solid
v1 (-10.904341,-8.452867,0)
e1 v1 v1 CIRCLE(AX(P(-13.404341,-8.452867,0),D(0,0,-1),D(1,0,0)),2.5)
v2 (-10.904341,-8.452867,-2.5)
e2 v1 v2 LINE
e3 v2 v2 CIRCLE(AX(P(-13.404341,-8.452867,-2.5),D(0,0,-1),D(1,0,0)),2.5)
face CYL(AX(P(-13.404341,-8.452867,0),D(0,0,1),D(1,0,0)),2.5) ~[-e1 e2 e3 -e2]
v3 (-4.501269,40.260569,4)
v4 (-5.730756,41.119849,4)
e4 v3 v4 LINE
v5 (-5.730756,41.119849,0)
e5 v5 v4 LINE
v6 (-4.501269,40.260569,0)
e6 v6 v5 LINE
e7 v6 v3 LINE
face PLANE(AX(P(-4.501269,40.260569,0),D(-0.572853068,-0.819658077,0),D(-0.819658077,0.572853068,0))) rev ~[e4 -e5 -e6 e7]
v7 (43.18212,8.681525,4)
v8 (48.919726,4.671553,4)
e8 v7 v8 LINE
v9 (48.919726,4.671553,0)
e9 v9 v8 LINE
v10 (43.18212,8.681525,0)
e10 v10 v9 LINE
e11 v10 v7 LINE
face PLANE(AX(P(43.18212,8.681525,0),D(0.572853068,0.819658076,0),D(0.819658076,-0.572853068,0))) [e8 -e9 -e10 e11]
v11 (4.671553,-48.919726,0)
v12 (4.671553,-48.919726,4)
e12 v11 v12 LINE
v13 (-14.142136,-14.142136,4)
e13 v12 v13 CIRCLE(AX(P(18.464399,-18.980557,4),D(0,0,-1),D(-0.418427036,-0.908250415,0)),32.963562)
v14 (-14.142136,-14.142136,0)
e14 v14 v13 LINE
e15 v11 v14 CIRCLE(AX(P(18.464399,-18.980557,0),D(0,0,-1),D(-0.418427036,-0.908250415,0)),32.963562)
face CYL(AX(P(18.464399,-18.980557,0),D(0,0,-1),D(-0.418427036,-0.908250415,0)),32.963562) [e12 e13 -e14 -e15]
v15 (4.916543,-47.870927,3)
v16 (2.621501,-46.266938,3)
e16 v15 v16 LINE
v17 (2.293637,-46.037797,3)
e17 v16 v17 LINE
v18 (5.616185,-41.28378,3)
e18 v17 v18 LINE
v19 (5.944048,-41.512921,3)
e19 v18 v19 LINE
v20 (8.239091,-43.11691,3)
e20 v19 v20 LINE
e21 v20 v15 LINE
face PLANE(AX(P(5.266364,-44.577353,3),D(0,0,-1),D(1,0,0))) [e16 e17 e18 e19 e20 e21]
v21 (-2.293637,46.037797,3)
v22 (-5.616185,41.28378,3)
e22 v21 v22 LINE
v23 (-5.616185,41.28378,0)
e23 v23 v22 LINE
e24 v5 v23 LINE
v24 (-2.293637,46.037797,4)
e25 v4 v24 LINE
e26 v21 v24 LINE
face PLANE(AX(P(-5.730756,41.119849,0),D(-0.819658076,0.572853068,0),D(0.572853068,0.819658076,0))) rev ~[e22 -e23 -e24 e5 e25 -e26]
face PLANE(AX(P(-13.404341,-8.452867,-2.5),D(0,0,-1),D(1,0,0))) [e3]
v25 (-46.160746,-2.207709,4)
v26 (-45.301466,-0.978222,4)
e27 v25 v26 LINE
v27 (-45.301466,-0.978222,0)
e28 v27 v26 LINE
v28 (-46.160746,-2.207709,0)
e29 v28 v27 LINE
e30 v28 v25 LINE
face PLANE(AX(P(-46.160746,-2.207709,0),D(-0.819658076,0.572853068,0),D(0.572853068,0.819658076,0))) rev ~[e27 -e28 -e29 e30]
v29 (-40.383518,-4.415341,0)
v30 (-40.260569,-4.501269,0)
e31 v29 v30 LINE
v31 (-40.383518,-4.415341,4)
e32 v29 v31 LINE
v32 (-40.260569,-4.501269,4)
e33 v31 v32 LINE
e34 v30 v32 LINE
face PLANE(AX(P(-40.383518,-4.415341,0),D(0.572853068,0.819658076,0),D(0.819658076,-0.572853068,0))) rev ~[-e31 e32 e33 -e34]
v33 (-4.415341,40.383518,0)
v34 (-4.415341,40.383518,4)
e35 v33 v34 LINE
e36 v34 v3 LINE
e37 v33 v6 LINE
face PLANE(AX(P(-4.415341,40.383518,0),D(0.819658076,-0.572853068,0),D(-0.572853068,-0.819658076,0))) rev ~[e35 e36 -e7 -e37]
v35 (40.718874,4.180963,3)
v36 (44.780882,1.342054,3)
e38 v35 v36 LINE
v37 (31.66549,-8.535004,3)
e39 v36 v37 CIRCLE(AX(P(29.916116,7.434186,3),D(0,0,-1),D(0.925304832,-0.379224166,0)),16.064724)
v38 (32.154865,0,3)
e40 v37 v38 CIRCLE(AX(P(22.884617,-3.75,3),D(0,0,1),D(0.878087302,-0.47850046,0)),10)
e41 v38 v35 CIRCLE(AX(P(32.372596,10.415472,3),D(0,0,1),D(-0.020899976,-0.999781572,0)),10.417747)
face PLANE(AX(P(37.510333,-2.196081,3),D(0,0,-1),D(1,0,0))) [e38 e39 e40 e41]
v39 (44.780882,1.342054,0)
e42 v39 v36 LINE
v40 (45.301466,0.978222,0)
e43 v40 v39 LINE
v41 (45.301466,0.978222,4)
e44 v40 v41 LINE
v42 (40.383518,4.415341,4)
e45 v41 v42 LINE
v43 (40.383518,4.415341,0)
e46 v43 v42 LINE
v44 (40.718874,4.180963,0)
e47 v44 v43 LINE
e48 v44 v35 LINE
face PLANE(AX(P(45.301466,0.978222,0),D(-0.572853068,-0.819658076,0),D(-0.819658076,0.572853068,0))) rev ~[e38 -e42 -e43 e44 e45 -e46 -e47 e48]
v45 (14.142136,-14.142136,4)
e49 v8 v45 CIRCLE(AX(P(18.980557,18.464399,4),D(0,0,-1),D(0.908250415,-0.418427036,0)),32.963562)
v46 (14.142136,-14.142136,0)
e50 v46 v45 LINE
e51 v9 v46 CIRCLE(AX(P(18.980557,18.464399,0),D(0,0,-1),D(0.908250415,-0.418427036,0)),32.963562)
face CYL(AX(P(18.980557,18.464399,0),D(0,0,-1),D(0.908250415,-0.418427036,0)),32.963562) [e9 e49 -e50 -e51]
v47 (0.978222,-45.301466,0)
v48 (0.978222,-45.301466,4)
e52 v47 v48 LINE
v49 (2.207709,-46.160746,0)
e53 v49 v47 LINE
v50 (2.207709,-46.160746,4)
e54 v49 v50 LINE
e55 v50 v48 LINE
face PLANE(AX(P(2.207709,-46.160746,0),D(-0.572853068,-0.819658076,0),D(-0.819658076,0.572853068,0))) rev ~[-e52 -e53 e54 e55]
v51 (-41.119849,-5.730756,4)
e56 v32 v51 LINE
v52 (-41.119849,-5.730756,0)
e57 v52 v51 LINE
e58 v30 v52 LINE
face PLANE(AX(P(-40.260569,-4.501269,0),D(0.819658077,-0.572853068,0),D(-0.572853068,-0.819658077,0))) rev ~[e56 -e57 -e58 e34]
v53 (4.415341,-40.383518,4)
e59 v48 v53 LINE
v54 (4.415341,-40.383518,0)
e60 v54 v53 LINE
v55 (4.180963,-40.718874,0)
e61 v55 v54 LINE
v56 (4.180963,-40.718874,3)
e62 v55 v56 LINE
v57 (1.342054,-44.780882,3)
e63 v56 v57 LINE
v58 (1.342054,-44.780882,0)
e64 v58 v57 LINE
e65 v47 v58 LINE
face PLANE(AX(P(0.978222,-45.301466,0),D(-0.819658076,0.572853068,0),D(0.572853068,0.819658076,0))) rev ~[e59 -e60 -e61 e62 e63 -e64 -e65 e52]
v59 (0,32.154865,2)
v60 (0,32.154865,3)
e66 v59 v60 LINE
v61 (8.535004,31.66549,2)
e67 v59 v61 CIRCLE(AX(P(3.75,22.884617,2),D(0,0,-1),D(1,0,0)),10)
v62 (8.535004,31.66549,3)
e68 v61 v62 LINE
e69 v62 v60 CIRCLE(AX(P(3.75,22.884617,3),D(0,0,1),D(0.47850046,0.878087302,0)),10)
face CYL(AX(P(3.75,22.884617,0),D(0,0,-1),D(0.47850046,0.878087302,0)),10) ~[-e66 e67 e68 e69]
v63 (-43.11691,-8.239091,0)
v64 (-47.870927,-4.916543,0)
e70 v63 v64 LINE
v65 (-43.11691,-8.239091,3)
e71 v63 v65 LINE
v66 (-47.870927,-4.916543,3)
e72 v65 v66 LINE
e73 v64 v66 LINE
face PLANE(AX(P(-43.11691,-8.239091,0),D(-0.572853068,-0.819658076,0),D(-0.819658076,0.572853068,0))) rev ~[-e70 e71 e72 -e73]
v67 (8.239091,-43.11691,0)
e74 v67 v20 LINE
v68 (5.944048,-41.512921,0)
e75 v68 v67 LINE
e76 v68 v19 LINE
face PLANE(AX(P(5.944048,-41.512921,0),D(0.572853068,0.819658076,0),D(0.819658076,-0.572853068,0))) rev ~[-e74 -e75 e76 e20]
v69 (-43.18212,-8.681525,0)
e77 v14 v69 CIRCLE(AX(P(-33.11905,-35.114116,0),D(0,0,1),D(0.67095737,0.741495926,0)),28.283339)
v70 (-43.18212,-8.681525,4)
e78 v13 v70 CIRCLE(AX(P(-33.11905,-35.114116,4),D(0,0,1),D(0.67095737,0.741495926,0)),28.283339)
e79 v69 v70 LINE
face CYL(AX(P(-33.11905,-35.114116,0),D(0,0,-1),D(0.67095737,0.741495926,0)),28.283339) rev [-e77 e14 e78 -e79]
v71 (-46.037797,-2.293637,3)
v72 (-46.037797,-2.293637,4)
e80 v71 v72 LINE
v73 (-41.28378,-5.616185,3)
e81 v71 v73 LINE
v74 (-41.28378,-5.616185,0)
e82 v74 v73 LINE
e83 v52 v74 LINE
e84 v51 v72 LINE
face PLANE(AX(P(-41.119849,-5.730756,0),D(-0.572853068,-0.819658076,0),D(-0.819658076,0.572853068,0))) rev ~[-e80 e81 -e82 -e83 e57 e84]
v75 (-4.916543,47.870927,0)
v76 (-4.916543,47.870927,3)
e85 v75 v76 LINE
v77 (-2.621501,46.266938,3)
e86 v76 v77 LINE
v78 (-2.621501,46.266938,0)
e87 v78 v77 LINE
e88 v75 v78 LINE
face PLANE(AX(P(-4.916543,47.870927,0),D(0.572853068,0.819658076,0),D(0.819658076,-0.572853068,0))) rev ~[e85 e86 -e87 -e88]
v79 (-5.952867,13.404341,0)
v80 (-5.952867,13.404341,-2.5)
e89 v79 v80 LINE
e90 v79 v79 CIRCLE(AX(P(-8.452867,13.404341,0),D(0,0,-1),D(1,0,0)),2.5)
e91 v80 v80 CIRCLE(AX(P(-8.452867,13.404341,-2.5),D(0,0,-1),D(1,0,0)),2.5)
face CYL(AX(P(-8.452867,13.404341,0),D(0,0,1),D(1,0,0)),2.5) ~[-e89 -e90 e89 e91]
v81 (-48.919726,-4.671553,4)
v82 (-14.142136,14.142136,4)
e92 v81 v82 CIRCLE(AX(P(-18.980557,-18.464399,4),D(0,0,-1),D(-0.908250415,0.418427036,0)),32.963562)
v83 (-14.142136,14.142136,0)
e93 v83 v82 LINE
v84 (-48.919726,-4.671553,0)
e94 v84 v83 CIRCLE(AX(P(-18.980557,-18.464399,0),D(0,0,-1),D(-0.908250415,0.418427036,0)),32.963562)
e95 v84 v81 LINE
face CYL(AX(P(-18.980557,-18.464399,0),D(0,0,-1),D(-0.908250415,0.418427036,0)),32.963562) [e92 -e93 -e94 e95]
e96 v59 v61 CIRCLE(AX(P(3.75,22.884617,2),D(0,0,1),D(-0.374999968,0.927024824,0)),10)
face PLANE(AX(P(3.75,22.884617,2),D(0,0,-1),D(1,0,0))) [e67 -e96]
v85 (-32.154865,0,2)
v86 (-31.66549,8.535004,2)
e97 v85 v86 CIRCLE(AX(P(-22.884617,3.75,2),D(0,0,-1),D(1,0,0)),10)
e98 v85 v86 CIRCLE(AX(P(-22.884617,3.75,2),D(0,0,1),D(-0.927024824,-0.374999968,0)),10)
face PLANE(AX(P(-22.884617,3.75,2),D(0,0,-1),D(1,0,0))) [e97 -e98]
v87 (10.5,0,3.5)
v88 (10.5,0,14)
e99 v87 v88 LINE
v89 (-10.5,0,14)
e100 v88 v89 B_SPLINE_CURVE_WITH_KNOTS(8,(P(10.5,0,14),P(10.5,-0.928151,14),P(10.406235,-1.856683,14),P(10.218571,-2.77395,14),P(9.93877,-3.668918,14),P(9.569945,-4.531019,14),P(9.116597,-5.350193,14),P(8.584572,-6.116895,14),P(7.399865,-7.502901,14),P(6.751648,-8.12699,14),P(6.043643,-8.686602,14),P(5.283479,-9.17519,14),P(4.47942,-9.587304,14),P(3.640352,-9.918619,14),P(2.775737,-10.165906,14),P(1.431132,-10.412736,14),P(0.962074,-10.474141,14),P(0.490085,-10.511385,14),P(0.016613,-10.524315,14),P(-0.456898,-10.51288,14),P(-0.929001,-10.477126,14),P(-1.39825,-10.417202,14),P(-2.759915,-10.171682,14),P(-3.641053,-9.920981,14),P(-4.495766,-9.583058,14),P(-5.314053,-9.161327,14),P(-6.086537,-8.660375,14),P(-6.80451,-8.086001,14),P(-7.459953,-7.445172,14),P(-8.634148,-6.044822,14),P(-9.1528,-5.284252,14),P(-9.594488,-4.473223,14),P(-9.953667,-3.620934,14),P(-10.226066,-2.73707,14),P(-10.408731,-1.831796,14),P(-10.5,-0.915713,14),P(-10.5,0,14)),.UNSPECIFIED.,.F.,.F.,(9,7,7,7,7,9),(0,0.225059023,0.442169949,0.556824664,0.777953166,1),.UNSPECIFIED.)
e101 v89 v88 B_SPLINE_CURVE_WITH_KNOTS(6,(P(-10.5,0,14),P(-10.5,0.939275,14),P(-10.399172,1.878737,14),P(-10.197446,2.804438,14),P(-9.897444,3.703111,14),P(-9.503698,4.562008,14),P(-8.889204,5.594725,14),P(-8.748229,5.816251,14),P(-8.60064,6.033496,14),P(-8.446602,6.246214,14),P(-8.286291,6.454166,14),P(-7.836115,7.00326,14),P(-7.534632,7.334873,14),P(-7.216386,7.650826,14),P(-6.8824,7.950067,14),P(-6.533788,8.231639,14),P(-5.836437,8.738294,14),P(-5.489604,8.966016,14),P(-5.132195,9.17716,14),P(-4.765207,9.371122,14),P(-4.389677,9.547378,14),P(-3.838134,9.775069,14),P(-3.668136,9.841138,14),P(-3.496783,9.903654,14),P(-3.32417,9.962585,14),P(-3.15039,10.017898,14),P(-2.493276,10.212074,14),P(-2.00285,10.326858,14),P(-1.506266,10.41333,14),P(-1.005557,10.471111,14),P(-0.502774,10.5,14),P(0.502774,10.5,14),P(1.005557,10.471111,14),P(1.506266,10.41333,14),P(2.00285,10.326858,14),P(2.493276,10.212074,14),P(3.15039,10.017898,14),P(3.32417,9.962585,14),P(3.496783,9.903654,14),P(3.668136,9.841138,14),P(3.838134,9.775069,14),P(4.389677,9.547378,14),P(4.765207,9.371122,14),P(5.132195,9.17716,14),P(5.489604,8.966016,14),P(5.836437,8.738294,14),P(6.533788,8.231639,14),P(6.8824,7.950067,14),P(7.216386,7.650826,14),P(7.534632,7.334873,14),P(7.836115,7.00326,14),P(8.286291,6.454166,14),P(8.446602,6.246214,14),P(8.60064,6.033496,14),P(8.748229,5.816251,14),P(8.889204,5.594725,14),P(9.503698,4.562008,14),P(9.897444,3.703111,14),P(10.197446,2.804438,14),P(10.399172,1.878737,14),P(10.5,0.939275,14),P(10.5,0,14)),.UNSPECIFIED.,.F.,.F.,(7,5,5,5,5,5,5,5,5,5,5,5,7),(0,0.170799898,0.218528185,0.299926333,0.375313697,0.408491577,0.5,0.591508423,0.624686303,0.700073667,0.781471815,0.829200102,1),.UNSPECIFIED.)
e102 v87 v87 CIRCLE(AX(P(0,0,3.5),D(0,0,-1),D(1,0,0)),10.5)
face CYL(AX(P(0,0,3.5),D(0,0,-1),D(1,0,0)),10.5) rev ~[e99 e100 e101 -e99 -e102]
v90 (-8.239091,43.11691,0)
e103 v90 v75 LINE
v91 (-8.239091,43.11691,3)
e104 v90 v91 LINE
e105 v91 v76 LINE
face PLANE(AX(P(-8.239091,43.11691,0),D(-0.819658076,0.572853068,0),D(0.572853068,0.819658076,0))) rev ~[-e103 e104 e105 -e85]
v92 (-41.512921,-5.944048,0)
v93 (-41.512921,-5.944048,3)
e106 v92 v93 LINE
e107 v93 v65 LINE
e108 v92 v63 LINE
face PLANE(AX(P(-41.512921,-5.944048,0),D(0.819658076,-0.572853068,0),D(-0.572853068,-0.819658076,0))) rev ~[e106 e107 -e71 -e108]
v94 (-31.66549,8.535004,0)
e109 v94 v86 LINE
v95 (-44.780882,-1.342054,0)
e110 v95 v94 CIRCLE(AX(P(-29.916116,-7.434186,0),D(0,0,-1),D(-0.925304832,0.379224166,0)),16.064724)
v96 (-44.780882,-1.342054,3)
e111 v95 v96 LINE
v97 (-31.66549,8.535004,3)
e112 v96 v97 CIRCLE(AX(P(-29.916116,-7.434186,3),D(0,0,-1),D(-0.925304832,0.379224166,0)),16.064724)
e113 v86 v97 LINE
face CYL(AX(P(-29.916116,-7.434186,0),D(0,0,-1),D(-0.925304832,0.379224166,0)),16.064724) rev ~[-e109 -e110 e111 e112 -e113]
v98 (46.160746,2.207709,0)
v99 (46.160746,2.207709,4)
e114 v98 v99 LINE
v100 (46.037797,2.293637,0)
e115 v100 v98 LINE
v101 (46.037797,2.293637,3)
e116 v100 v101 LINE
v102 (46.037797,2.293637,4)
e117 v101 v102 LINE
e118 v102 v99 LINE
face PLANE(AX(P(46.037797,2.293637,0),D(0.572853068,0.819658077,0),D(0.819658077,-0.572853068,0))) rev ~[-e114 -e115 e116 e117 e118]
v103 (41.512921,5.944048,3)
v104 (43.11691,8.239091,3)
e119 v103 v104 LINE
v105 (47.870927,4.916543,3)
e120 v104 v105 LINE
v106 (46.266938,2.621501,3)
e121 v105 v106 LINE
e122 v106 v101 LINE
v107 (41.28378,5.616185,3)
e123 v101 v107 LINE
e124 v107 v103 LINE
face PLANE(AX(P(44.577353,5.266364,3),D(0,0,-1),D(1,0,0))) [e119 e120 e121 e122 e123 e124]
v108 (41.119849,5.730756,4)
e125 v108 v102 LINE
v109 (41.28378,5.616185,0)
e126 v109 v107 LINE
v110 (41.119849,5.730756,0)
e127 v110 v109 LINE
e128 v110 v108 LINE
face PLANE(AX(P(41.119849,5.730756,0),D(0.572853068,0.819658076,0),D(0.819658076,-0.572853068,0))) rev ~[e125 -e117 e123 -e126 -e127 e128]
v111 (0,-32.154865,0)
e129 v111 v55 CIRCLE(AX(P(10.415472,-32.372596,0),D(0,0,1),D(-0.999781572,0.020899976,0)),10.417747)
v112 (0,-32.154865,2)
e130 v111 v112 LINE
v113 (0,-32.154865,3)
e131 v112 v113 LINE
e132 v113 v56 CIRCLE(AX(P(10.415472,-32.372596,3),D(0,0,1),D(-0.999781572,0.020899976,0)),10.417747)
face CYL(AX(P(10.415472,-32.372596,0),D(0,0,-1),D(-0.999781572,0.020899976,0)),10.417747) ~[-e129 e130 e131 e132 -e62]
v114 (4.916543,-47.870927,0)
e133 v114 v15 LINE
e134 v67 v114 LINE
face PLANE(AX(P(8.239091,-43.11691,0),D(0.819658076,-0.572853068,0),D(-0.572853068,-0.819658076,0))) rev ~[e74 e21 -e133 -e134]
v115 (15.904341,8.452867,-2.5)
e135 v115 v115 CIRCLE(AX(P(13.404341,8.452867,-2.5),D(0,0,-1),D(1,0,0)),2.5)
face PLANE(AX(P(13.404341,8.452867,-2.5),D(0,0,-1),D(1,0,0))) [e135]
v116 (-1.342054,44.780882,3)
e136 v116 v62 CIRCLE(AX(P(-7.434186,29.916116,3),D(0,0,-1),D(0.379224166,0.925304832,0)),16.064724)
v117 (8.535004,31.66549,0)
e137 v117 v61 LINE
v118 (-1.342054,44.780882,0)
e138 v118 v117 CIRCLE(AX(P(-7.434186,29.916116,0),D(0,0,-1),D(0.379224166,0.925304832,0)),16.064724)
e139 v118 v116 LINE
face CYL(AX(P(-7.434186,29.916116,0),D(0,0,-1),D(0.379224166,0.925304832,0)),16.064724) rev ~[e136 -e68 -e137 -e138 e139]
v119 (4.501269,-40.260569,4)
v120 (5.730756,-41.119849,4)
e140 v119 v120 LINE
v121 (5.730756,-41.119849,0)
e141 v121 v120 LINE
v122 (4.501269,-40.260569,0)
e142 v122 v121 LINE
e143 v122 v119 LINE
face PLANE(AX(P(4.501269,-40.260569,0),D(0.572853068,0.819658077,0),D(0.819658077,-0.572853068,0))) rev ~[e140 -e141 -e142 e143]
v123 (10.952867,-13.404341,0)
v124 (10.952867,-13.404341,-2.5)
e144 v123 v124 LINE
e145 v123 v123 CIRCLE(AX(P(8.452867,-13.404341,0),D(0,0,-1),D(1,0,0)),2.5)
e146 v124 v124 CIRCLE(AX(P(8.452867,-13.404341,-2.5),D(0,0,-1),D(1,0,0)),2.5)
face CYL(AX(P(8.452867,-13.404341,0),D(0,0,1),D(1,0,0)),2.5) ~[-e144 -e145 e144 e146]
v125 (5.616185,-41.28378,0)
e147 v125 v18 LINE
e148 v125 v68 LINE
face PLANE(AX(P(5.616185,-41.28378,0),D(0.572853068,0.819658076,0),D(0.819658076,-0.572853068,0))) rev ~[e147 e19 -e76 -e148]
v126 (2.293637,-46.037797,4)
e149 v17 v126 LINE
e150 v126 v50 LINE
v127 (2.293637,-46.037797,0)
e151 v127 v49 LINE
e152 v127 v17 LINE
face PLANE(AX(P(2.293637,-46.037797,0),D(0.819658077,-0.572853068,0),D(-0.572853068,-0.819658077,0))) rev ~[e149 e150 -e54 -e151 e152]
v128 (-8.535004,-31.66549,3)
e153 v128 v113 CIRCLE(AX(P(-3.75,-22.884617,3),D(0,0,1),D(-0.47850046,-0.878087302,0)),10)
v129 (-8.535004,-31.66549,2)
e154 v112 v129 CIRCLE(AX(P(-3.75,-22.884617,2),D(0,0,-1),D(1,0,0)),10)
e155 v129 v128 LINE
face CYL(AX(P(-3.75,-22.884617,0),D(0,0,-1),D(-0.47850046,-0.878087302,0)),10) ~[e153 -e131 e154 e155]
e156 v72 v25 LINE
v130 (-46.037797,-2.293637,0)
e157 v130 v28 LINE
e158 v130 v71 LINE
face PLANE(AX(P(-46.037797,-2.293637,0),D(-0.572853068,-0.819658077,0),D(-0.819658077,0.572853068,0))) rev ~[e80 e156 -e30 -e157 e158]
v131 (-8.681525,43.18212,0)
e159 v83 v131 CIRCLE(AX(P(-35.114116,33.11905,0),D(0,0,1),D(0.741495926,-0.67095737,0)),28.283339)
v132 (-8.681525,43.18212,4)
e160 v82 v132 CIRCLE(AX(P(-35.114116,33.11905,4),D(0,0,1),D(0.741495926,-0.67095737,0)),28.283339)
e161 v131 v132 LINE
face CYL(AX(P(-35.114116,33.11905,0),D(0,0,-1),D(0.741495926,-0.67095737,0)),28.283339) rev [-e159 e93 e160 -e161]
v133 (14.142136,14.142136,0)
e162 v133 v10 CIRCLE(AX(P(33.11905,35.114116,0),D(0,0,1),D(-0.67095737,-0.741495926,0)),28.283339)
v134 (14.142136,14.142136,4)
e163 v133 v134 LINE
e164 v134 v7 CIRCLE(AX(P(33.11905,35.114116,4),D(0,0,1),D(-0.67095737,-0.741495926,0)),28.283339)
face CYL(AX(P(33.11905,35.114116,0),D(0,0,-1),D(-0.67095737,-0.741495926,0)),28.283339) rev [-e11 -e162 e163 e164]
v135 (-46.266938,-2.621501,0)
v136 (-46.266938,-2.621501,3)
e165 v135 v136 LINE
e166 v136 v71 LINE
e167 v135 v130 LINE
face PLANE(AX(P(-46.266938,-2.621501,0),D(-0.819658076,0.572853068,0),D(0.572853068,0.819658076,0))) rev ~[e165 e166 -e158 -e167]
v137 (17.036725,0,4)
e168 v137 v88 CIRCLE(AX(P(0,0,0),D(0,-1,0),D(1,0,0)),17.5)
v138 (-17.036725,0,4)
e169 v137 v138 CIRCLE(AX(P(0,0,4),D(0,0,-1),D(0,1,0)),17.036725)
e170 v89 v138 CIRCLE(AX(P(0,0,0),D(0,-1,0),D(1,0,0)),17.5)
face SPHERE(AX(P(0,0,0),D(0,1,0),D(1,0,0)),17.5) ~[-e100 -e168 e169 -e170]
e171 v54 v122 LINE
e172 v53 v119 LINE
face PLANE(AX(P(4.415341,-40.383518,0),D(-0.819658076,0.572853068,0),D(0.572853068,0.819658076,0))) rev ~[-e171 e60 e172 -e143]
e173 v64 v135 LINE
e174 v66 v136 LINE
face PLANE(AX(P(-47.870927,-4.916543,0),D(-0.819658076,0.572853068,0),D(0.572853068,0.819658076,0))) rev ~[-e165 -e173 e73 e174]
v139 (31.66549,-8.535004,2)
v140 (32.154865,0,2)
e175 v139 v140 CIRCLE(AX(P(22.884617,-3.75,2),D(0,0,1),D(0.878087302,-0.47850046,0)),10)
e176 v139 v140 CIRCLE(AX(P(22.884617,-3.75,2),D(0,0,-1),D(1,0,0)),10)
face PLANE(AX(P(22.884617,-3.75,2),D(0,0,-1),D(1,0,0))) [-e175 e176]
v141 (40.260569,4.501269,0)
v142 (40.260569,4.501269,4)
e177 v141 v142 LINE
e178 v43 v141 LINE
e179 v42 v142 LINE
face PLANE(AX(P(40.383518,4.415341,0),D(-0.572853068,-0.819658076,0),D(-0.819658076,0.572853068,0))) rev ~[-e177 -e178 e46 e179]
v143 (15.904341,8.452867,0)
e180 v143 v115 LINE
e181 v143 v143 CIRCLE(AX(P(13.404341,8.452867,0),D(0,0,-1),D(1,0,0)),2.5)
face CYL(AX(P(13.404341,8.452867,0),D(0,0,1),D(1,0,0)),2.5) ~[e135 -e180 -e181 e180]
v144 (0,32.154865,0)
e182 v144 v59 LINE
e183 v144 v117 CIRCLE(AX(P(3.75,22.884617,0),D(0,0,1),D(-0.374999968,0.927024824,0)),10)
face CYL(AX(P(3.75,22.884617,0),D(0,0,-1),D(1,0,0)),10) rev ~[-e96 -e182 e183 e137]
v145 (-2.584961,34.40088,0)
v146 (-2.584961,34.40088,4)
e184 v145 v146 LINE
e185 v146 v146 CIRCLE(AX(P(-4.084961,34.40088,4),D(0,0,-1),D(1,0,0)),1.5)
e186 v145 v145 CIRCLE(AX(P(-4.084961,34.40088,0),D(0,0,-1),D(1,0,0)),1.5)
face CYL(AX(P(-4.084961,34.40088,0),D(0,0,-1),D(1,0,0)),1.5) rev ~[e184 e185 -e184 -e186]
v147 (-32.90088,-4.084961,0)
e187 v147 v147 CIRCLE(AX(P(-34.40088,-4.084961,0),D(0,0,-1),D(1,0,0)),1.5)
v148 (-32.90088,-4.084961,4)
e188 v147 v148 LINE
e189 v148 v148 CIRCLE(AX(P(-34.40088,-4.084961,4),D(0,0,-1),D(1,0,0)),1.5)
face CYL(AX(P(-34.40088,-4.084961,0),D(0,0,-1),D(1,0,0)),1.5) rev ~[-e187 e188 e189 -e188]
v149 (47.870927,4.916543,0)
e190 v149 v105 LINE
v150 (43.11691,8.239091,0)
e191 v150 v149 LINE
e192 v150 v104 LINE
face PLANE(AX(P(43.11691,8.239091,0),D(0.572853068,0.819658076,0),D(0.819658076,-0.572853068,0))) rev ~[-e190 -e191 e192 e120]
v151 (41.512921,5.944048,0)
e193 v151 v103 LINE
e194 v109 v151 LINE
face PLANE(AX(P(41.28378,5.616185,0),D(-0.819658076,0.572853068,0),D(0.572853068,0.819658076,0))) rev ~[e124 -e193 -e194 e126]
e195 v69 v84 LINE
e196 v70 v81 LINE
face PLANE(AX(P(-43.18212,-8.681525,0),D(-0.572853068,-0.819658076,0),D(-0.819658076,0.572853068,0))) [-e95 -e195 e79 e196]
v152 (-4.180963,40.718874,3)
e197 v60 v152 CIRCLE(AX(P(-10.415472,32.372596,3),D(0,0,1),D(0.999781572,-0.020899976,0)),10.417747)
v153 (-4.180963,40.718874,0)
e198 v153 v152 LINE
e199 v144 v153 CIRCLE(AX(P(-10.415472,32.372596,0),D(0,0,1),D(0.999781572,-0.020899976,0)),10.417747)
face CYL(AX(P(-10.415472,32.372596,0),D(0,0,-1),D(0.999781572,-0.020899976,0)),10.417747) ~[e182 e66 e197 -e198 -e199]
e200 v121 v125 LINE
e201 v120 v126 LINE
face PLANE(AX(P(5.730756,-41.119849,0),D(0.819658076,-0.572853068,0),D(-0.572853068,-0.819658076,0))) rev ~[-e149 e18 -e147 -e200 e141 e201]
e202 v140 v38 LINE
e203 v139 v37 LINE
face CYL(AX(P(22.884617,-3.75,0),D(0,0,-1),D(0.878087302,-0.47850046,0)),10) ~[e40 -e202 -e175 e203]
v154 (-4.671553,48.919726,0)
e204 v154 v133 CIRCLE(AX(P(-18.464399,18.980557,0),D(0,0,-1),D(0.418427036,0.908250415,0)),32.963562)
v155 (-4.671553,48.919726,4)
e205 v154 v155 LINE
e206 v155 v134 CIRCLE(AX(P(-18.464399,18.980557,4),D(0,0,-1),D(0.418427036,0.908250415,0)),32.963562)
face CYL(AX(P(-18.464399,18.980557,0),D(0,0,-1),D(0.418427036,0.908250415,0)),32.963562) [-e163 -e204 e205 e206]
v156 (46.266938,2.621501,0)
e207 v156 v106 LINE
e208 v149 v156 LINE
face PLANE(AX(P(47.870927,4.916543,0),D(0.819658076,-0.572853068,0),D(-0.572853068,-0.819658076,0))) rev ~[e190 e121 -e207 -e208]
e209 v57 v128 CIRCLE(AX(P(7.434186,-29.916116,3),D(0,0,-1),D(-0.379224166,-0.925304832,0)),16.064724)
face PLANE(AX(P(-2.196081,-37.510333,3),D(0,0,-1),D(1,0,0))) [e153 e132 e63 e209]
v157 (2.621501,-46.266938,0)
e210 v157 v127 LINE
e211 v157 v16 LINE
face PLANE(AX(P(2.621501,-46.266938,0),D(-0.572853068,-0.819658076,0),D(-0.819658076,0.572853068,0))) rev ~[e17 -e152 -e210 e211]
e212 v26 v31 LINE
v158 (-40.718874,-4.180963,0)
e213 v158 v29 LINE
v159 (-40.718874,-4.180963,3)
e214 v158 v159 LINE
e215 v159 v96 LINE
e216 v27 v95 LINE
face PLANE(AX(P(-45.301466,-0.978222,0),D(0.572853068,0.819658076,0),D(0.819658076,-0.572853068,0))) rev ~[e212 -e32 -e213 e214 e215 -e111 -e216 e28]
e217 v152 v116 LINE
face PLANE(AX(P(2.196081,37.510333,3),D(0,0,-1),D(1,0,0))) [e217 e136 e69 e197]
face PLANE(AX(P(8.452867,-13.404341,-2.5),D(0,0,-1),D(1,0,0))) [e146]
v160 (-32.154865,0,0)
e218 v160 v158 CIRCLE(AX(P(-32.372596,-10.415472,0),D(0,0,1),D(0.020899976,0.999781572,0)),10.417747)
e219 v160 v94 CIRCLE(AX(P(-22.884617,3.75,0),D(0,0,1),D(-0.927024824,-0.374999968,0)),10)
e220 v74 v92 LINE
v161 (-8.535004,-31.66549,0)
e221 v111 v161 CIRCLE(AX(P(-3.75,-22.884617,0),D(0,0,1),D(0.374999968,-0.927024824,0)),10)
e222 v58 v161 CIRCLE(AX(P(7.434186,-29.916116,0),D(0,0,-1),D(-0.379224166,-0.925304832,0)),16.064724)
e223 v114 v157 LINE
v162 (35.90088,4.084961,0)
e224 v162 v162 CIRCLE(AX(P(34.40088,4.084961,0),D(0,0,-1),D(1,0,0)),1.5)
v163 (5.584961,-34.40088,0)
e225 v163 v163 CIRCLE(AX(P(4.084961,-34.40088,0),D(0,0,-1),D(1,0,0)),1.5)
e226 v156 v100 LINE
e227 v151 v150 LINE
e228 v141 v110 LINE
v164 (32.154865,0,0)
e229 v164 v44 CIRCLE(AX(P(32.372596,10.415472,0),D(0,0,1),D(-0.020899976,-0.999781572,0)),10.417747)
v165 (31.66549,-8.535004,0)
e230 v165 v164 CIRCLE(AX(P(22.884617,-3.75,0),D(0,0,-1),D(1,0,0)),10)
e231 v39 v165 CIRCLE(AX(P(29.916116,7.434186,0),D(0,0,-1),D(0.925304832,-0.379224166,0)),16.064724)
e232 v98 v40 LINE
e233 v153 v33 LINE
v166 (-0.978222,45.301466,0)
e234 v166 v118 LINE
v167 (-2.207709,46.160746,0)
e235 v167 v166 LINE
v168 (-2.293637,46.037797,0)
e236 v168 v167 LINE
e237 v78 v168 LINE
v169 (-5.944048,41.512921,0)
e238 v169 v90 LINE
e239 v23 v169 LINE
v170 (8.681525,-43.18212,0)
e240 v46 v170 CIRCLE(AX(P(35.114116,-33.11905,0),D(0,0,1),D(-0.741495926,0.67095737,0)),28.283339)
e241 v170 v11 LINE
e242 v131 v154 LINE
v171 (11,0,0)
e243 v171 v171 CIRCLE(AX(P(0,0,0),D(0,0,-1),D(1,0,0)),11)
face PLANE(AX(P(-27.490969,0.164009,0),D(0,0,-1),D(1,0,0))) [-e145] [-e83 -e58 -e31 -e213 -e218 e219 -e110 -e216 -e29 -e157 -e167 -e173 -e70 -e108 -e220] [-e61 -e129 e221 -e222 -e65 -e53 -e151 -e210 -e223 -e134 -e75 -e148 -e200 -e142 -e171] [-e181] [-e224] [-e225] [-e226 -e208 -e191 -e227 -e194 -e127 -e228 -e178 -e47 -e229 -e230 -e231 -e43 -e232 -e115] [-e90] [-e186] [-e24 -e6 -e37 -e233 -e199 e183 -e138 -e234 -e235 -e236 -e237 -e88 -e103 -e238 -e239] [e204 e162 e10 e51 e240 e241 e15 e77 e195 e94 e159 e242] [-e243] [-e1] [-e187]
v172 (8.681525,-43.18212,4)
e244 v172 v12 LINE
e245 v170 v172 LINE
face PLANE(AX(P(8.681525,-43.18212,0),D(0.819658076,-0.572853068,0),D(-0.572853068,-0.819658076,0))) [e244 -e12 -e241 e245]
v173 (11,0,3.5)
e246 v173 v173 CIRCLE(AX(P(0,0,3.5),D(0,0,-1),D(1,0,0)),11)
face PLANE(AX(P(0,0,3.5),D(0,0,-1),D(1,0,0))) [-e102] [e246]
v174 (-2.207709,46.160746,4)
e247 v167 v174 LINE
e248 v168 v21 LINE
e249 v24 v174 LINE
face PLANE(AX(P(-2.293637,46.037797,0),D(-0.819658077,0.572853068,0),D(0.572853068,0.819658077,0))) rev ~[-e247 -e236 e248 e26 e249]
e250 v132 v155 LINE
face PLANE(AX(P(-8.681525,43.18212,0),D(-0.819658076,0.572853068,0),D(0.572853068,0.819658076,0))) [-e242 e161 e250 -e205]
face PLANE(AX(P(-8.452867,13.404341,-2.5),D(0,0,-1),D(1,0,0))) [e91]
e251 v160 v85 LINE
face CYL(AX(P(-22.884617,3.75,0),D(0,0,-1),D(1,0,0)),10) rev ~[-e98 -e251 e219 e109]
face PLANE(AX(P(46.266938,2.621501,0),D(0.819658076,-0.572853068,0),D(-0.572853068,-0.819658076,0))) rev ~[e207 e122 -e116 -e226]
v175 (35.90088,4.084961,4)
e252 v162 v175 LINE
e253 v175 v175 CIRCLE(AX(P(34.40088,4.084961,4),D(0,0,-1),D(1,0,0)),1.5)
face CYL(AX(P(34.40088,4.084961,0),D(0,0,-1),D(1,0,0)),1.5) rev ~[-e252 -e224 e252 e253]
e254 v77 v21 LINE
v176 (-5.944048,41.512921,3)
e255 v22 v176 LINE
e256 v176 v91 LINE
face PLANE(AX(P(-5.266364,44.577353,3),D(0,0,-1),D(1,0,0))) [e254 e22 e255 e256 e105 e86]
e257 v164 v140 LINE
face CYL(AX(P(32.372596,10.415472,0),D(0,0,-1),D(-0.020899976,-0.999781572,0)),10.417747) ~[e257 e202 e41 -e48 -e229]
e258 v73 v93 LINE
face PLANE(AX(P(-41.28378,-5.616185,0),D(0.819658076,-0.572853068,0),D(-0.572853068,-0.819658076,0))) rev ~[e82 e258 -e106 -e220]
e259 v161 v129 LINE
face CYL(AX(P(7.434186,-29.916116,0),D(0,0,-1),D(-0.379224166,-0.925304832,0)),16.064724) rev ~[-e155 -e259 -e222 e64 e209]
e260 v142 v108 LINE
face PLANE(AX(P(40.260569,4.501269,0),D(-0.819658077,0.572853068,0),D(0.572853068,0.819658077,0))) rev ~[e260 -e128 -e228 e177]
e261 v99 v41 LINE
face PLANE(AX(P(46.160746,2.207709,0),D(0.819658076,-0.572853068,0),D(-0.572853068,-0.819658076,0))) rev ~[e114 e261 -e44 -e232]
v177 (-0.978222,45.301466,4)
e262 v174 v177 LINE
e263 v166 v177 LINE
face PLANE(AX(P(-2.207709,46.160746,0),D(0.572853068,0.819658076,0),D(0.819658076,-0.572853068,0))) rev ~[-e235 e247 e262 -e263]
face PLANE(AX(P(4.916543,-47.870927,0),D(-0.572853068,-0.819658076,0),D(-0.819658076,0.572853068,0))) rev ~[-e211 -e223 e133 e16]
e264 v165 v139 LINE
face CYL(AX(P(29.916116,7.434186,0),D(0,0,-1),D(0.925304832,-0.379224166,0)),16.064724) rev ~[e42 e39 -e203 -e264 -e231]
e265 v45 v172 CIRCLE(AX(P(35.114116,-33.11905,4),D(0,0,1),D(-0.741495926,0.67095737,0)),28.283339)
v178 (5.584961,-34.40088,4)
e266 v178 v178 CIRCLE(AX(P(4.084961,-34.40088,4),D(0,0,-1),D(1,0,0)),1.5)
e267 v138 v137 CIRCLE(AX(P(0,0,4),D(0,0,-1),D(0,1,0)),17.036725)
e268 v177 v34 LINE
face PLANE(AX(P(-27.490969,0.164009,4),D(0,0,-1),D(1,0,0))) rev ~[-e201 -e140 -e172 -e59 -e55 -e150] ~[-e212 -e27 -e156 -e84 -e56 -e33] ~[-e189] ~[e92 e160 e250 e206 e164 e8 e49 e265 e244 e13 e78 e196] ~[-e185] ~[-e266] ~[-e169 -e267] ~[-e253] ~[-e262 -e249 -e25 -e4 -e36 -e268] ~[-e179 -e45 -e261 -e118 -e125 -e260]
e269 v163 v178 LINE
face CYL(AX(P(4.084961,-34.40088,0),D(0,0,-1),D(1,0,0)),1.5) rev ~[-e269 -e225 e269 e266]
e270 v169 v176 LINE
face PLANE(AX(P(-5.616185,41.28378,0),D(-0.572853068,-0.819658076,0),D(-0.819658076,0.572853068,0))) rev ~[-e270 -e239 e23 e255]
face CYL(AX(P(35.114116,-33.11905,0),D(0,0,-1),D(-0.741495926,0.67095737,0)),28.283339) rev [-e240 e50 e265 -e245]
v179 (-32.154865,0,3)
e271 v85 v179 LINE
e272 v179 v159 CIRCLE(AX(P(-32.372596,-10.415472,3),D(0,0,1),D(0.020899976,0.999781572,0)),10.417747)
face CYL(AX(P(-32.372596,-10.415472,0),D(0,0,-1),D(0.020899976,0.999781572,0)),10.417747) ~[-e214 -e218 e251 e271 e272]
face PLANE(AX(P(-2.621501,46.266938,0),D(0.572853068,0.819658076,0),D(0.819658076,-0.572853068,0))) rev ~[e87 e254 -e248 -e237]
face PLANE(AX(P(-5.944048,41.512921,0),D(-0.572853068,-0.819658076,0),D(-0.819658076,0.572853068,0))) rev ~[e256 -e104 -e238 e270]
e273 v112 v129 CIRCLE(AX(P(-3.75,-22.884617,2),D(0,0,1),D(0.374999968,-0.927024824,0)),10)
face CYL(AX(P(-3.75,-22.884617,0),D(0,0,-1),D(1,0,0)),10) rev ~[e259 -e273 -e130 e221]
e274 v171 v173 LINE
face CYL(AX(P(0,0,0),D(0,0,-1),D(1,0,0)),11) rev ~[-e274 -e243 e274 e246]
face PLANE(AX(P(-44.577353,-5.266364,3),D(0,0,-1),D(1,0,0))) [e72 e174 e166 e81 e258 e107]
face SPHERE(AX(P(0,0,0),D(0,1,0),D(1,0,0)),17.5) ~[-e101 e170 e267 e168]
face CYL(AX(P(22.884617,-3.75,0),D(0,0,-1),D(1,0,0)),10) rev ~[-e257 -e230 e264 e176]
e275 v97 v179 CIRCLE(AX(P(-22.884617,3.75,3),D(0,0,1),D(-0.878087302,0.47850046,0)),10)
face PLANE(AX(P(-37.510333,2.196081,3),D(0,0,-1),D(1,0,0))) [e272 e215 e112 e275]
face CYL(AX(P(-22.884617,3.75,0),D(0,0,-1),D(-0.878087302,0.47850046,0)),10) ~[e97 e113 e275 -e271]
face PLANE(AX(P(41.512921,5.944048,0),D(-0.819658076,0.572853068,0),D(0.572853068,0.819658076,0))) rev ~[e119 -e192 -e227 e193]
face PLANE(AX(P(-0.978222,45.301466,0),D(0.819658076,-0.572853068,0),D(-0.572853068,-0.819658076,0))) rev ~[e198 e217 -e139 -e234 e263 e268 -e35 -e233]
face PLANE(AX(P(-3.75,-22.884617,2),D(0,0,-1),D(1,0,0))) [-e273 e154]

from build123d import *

# Parameters (mm, degrees)
F1_ANGLE  = 180
F2_R      = 11
F3_DEPTH  = 3.5
F4_R      = 10.5
F5_DEPTH  = 17
F7_DEPTH  = 4
F8_R      = 18.641205443
F8_R_2    = 11
F9_DEPTH  = 4
F10_R     = 10
F11_DEPTH = 2
F13_DEPTH = 3
F15_DEPTH = 25
F17_DEPTH = 3
F18_R     = 2.5
F19_DEPTH = 2.5
F20_R     = 1.5
F21_DEPTH = 25


with BuildPart() as f1:
    # F0 (on Top) → F1 (revolve)
    with BuildSketch(Plane.XY):
        with BuildLine():
            ThreePointArc((0, -17.5), (12.3743686708, -12.3743686708), (17.5, 0))
            ThreePointArc((17.5, 0), (12.3743686708, 12.3743686708), (0, 17.5))
            Line((0, 17.5), (0, -17.5))
        make_face()
    revolve(axis=Axis((0, 0, 0), (0, -1, 0)), revolution_arc=F1_ANGLE)

    # F2 (on face) → F3 (cut)
    with BuildSketch(Plane(origin=(0, 0, 0), x_dir=(1, 0, 0), z_dir=(0, 0, -1))):
        Circle(F2_R)
    extrude(amount=-F3_DEPTH, mode=Mode.SUBTRACT)

    # F4 (on face) → F5 (cut)
    with BuildSketch(Plane(origin=(0, 0, 3.5), x_dir=(1, 0, 0), z_dir=(0, 0, -1))):
        Circle(F4_R)
    extrude(amount=-F5_DEPTH, mode=Mode.SUBTRACT)



with BuildPart() as f7:
    # F6 (on face) → F7 (new body)
    with BuildSketch(Plane(origin=(0, 0, 0), x_dir=(1, 0, 0), z_dir=(0, 0, -1))):
        with BuildLine():
            ThreePointArc((-12.3743686708, -12.3743686708), (-17.5, 0), (-12.3743686708, 12.3743686708))
            Line((-12.3743686708, 12.3743686708), (-14.1421356237, 14.1421356237))
            ThreePointArc((-14.1421356237, 14.1421356237), (-27.8923182516, 7.317919876), (-43.1821195756, 8.6815247843))
            Line((-43.1821195756, 8.6815247843), (-48.919726111, 4.6715533074))
            ThreePointArc((-48.919726111, 4.6715533074), (-34.6649635656, -10.5286316429), (-14.1421356237, -14.1421356237))
            Line((-14.1421356237, -14.1421356237), (-12.3743686708, -12.3743686708))
        make_face()
        with BuildLine():
            Line((-14.1421356237, 14.1421356237), (-12.3743686708, 12.3743686708))
            ThreePointArc((-12.3743686708, 12.3743686708), (0, 17.5), (12.3743686708, 12.3743686708))
            Line((12.3743686708, 12.3743686708), (14.1421356237, 14.1421356237))
            ThreePointArc((14.1421356237, 14.1421356237), (7.317919876, 27.8923182516), (8.6815247843, 43.1821195756))
            Line((8.6815247843, 43.1821195756), (4.6715533074, 48.919726111))
            ThreePointArc((4.6715533074, 48.919726111), (-10.5286316429, 34.6649635656), (-14.1421356237, 14.1421356237))
        make_face()
        with BuildLine():
            Line((14.1421356237, 14.1421356237), (12.3743686708, 12.3743686708))
            ThreePointArc((12.3743686708, 12.3743686708), (17.5, 0), (12.3743686708, -12.3743686708))
            Line((12.3743686708, -12.3743686708), (14.1421356237, -14.1421356237))
            ThreePointArc((14.1421356237, -14.1421356237), (27.8923182516, -7.317919876), (43.1821195756, -8.6815247843))
            Line((43.1821195756, -8.6815247843), (48.919726111, -4.6715533074))
            ThreePointArc((48.919726111, -4.6715533074), (34.6649635656, 10.5286316429), (14.1421356237, 14.1421356237))
        make_face()
        with BuildLine():
            ThreePointArc((12.3743686708, -12.3743686708), (0, -17.5), (-12.3743686708, -12.3743686708))
            Line((-12.3743686708, -12.3743686708), (-14.1421356237, -14.1421356237))
            ThreePointArc((-14.1421356237, -14.1421356237), (-7.317919876, -27.8923182516), (-8.6815247843, -43.1821195756))
            Line((-8.6815247843, -43.1821195756), (-4.6715533074, -48.919726111))
            ThreePointArc((-4.6715533074, -48.919726111), (10.5286316429, -34.6649635656), (14.1421356237, -14.1421356237))
            Line((14.1421356237, -14.1421356237), (12.3743686708, -12.3743686708))
        make_face()
    extrude(amount=-F7_DEPTH)


with BuildPart() as f1_1:
    add(f1.part)

    add(f7.part)  # F9 merges F7
    # F8 (on face) → F9 (join, through all)
    with BuildSketch(Plane(origin=(0, 0, 0), x_dir=(1, 0, 0), z_dir=(0, 0, -1))):
        Circle(F8_R)
        Circle(F8_R_2, mode=Mode.SUBTRACT)
    extrude(amount=-F9_DEPTH)

    # F10 (on face) → F11 (cut)
    with BuildSketch(Plane(origin=(0, 0, 0), x_dir=(1, 0, 0), z_dir=(0, 0, -1))):
        with Locations((-3.7499996834, 22.8846166283)):
            Circle(F10_R)
        with Locations((-22.8846166283, -3.7499996834)):
            Circle(F10_R)
        with Locations((3.7499996834, -22.8846166283)):
            Circle(F10_R)
        with Locations((22.8846166283, 3.7499996834)):
            Circle(F10_R)
    extrude(amount=-F11_DEPTH, mode=Mode.SUBTRACT)

    # F12 (on face) → F13 (cut)
    with BuildSketch(Plane(origin=(0, 0, 0), x_dir=(1, 0, 0), z_dir=(0, 0, -1))):
        Polygon((5.9440483259, 41.5129213729), (8.2390909401, 43.1169099636), (4.9165431449, 47.8709268072), (2.6215005308, 46.2669382165), (2.2936373002, 46.0377969892), (5.6161850953, 41.2837801456), align=None)
        Polygon((-46.0377969892, 2.2936373002), (-41.2837801456, 5.6161850953), (-41.5129213729, 5.9440483259), (-43.1169099636, 8.2390909401), (-47.8709268072, 4.9165431449), (-46.2669382165, 2.6215005308), align=None)
        Polygon((-2.2936373002, -46.0377969892), (-5.6161850953, -41.2837801456), (-5.9440483259, -41.5129213729), (-8.2390909401, -43.1169099636), (-4.9165431449, -47.8709268072), (-2.6215005308, -46.2669382165), align=None)
        Polygon((46.0377969892, -2.2936373002), (41.2837801456, -5.6161850953), (41.5129213729, -5.9440483259), (43.1169099636, -8.2390909401), (47.8709268072, -4.9165431449), (46.2669382165, -2.6215005308), align=None)
    extrude(amount=-F13_DEPTH, mode=Mode.SUBTRACT)

    # F14 (on face) → F15 (cut)
    with BuildSketch(Plane(origin=(0, 0, 0), x_dir=(1, 0, 0), z_dir=(0, 0, -1))):
        Polygon((5.7307557089, 41.1198485303), (2.2936373002, 46.0377969892), (2.20770934, 46.1607457007), (0.9782222253, 45.3014660985), (4.415340634, 40.3835176396), (4.5012685942, 40.2605689282), align=None)
        Polygon((-46.1607457007, 2.20770934), (-45.3014660985, 0.9782222253), (-40.3835176396, 4.415340634), (-40.2605689282, 4.5012685942), (-41.1198485303, 5.7307557089), (-46.0377969892, 2.2936373002), align=None)
        Polygon((-2.20770934, -46.1607457007), (-0.9782222253, -45.3014660985), (-4.415340634, -40.3835176396), (-4.5012685942, -40.2605689282), (-5.7307557089, -41.1198485303), (-2.2936373002, -46.0377969892), align=None)
        Polygon((46.1607457007, -2.20770934), (45.3014660985, -0.9782222253), (40.3835176396, -4.415340634), (40.2605689282, -4.5012685942), (41.1198485303, -5.7307557089), (46.0377969892, -2.2936373002), align=None)
    extrude(amount=-F15_DEPTH, mode=Mode.SUBTRACT)

    # F16 (on face) → F17 (cut)
    with BuildSketch(Plane(origin=(0, 0, 0), x_dir=(1, 0, 0), z_dir=(0, 0, -1))):
        with BuildLine():
            Line((4.1809628018, 40.7188735865), (1.342054472, 44.7808822767))
            ThreePointArc((1.342054472, 44.7808822767), (-5.3985401919, 39.5803016206), (-8.5350042844, 31.6654896468))
            ThreePointArc((-8.5350042844, 31.6654896468), (-4.3224338027, 32.8682191434), (0, 32.1548648652))
            ThreePointArc((0, 32.1548648652), (1.0537931887, 36.9429820748), (4.1809628018, 40.7188735865))
        make_face()
        with BuildLine():
            Line((-40.7188735865, 4.1809628018), (-44.7808822767, 1.342054472))
            ThreePointArc((-44.7808822767, 1.342054472), (-39.5803016206, -5.3985401919), (-31.6654896468, -8.5350042844))
            ThreePointArc((-31.6654896468, -8.5350042844), (-32.8682191434, -4.3224338027), (-32.1548648653, 0))
            ThreePointArc((-32.1548648653, 0), (-36.9429820748, 1.0537931887), (-40.7188735865, 4.1809628018))
        make_face()
        with BuildLine():
            Line((-4.1809628018, -40.7188735865), (-1.342054472, -44.7808822767))
            ThreePointArc((-1.342054472, -44.7808822767), (5.3985401919, -39.5803016206), (8.5350042844, -31.6654896468))
            ThreePointArc((8.5350042844, -31.6654896468), (4.3224338027, -32.8682191434), (0, -32.1548648653))
            ThreePointArc((0, -32.1548648653), (-1.0537931887, -36.9429820748), (-4.1809628018, -40.7188735865))
        make_face()
        with BuildLine():
            Line((40.7188735865, -4.1809628018), (44.7808822767, -1.342054472))
            ThreePointArc((44.7808822767, -1.342054472), (39.5803016206, 5.3985401919), (31.6654896468, 8.5350042844))
            ThreePointArc((31.6654896468, 8.5350042844), (32.8682191434, 4.3224338027), (32.1548648652, 0))
            ThreePointArc((32.1548648652, 0), (36.9429820748, -1.0537931887), (40.7188735865, -4.1809628018))
        make_face()
    extrude(amount=-F17_DEPTH, mode=Mode.SUBTRACT)

    # F18 (on face) → F19 (join)
    with BuildSketch(Plane(origin=(0, 0, 0), x_dir=(1, 0, 0), z_dir=(0, 0, -1))):
        with Locations((8.4528671578, 13.4043414146)):
            Circle(F18_R)
        with Locations((-13.4043414146, 8.4528671578)):
            Circle(F18_R)
        with Locations((-8.4528671578, -13.4043414146)):
            Circle(F18_R)
        with Locations((13.4043414146, -8.4528671578)):
            Circle(F18_R)
    extrude(amount=F19_DEPTH)

    # F20 (on face) → F21 (cut)
    with BuildSketch(Plane(origin=(0, 0, 0), x_dir=(1, 0, 0), z_dir=(0, 0, -1))):
        with Locations((4.0849614888, 34.4008803368)):
            Circle(F20_R)
        with Locations((-34.4008803368, 4.0849614888)):
            Circle(F20_R)
        with Locations((-4.0849614888, -34.4008803368)):
            Circle(F20_R)
        with Locations((34.4008803368, -4.0849614888)):
            Circle(F20_R)
    extrude(amount=-F21_DEPTH, mode=Mode.SUBTRACT)


solid = f1_1.part
